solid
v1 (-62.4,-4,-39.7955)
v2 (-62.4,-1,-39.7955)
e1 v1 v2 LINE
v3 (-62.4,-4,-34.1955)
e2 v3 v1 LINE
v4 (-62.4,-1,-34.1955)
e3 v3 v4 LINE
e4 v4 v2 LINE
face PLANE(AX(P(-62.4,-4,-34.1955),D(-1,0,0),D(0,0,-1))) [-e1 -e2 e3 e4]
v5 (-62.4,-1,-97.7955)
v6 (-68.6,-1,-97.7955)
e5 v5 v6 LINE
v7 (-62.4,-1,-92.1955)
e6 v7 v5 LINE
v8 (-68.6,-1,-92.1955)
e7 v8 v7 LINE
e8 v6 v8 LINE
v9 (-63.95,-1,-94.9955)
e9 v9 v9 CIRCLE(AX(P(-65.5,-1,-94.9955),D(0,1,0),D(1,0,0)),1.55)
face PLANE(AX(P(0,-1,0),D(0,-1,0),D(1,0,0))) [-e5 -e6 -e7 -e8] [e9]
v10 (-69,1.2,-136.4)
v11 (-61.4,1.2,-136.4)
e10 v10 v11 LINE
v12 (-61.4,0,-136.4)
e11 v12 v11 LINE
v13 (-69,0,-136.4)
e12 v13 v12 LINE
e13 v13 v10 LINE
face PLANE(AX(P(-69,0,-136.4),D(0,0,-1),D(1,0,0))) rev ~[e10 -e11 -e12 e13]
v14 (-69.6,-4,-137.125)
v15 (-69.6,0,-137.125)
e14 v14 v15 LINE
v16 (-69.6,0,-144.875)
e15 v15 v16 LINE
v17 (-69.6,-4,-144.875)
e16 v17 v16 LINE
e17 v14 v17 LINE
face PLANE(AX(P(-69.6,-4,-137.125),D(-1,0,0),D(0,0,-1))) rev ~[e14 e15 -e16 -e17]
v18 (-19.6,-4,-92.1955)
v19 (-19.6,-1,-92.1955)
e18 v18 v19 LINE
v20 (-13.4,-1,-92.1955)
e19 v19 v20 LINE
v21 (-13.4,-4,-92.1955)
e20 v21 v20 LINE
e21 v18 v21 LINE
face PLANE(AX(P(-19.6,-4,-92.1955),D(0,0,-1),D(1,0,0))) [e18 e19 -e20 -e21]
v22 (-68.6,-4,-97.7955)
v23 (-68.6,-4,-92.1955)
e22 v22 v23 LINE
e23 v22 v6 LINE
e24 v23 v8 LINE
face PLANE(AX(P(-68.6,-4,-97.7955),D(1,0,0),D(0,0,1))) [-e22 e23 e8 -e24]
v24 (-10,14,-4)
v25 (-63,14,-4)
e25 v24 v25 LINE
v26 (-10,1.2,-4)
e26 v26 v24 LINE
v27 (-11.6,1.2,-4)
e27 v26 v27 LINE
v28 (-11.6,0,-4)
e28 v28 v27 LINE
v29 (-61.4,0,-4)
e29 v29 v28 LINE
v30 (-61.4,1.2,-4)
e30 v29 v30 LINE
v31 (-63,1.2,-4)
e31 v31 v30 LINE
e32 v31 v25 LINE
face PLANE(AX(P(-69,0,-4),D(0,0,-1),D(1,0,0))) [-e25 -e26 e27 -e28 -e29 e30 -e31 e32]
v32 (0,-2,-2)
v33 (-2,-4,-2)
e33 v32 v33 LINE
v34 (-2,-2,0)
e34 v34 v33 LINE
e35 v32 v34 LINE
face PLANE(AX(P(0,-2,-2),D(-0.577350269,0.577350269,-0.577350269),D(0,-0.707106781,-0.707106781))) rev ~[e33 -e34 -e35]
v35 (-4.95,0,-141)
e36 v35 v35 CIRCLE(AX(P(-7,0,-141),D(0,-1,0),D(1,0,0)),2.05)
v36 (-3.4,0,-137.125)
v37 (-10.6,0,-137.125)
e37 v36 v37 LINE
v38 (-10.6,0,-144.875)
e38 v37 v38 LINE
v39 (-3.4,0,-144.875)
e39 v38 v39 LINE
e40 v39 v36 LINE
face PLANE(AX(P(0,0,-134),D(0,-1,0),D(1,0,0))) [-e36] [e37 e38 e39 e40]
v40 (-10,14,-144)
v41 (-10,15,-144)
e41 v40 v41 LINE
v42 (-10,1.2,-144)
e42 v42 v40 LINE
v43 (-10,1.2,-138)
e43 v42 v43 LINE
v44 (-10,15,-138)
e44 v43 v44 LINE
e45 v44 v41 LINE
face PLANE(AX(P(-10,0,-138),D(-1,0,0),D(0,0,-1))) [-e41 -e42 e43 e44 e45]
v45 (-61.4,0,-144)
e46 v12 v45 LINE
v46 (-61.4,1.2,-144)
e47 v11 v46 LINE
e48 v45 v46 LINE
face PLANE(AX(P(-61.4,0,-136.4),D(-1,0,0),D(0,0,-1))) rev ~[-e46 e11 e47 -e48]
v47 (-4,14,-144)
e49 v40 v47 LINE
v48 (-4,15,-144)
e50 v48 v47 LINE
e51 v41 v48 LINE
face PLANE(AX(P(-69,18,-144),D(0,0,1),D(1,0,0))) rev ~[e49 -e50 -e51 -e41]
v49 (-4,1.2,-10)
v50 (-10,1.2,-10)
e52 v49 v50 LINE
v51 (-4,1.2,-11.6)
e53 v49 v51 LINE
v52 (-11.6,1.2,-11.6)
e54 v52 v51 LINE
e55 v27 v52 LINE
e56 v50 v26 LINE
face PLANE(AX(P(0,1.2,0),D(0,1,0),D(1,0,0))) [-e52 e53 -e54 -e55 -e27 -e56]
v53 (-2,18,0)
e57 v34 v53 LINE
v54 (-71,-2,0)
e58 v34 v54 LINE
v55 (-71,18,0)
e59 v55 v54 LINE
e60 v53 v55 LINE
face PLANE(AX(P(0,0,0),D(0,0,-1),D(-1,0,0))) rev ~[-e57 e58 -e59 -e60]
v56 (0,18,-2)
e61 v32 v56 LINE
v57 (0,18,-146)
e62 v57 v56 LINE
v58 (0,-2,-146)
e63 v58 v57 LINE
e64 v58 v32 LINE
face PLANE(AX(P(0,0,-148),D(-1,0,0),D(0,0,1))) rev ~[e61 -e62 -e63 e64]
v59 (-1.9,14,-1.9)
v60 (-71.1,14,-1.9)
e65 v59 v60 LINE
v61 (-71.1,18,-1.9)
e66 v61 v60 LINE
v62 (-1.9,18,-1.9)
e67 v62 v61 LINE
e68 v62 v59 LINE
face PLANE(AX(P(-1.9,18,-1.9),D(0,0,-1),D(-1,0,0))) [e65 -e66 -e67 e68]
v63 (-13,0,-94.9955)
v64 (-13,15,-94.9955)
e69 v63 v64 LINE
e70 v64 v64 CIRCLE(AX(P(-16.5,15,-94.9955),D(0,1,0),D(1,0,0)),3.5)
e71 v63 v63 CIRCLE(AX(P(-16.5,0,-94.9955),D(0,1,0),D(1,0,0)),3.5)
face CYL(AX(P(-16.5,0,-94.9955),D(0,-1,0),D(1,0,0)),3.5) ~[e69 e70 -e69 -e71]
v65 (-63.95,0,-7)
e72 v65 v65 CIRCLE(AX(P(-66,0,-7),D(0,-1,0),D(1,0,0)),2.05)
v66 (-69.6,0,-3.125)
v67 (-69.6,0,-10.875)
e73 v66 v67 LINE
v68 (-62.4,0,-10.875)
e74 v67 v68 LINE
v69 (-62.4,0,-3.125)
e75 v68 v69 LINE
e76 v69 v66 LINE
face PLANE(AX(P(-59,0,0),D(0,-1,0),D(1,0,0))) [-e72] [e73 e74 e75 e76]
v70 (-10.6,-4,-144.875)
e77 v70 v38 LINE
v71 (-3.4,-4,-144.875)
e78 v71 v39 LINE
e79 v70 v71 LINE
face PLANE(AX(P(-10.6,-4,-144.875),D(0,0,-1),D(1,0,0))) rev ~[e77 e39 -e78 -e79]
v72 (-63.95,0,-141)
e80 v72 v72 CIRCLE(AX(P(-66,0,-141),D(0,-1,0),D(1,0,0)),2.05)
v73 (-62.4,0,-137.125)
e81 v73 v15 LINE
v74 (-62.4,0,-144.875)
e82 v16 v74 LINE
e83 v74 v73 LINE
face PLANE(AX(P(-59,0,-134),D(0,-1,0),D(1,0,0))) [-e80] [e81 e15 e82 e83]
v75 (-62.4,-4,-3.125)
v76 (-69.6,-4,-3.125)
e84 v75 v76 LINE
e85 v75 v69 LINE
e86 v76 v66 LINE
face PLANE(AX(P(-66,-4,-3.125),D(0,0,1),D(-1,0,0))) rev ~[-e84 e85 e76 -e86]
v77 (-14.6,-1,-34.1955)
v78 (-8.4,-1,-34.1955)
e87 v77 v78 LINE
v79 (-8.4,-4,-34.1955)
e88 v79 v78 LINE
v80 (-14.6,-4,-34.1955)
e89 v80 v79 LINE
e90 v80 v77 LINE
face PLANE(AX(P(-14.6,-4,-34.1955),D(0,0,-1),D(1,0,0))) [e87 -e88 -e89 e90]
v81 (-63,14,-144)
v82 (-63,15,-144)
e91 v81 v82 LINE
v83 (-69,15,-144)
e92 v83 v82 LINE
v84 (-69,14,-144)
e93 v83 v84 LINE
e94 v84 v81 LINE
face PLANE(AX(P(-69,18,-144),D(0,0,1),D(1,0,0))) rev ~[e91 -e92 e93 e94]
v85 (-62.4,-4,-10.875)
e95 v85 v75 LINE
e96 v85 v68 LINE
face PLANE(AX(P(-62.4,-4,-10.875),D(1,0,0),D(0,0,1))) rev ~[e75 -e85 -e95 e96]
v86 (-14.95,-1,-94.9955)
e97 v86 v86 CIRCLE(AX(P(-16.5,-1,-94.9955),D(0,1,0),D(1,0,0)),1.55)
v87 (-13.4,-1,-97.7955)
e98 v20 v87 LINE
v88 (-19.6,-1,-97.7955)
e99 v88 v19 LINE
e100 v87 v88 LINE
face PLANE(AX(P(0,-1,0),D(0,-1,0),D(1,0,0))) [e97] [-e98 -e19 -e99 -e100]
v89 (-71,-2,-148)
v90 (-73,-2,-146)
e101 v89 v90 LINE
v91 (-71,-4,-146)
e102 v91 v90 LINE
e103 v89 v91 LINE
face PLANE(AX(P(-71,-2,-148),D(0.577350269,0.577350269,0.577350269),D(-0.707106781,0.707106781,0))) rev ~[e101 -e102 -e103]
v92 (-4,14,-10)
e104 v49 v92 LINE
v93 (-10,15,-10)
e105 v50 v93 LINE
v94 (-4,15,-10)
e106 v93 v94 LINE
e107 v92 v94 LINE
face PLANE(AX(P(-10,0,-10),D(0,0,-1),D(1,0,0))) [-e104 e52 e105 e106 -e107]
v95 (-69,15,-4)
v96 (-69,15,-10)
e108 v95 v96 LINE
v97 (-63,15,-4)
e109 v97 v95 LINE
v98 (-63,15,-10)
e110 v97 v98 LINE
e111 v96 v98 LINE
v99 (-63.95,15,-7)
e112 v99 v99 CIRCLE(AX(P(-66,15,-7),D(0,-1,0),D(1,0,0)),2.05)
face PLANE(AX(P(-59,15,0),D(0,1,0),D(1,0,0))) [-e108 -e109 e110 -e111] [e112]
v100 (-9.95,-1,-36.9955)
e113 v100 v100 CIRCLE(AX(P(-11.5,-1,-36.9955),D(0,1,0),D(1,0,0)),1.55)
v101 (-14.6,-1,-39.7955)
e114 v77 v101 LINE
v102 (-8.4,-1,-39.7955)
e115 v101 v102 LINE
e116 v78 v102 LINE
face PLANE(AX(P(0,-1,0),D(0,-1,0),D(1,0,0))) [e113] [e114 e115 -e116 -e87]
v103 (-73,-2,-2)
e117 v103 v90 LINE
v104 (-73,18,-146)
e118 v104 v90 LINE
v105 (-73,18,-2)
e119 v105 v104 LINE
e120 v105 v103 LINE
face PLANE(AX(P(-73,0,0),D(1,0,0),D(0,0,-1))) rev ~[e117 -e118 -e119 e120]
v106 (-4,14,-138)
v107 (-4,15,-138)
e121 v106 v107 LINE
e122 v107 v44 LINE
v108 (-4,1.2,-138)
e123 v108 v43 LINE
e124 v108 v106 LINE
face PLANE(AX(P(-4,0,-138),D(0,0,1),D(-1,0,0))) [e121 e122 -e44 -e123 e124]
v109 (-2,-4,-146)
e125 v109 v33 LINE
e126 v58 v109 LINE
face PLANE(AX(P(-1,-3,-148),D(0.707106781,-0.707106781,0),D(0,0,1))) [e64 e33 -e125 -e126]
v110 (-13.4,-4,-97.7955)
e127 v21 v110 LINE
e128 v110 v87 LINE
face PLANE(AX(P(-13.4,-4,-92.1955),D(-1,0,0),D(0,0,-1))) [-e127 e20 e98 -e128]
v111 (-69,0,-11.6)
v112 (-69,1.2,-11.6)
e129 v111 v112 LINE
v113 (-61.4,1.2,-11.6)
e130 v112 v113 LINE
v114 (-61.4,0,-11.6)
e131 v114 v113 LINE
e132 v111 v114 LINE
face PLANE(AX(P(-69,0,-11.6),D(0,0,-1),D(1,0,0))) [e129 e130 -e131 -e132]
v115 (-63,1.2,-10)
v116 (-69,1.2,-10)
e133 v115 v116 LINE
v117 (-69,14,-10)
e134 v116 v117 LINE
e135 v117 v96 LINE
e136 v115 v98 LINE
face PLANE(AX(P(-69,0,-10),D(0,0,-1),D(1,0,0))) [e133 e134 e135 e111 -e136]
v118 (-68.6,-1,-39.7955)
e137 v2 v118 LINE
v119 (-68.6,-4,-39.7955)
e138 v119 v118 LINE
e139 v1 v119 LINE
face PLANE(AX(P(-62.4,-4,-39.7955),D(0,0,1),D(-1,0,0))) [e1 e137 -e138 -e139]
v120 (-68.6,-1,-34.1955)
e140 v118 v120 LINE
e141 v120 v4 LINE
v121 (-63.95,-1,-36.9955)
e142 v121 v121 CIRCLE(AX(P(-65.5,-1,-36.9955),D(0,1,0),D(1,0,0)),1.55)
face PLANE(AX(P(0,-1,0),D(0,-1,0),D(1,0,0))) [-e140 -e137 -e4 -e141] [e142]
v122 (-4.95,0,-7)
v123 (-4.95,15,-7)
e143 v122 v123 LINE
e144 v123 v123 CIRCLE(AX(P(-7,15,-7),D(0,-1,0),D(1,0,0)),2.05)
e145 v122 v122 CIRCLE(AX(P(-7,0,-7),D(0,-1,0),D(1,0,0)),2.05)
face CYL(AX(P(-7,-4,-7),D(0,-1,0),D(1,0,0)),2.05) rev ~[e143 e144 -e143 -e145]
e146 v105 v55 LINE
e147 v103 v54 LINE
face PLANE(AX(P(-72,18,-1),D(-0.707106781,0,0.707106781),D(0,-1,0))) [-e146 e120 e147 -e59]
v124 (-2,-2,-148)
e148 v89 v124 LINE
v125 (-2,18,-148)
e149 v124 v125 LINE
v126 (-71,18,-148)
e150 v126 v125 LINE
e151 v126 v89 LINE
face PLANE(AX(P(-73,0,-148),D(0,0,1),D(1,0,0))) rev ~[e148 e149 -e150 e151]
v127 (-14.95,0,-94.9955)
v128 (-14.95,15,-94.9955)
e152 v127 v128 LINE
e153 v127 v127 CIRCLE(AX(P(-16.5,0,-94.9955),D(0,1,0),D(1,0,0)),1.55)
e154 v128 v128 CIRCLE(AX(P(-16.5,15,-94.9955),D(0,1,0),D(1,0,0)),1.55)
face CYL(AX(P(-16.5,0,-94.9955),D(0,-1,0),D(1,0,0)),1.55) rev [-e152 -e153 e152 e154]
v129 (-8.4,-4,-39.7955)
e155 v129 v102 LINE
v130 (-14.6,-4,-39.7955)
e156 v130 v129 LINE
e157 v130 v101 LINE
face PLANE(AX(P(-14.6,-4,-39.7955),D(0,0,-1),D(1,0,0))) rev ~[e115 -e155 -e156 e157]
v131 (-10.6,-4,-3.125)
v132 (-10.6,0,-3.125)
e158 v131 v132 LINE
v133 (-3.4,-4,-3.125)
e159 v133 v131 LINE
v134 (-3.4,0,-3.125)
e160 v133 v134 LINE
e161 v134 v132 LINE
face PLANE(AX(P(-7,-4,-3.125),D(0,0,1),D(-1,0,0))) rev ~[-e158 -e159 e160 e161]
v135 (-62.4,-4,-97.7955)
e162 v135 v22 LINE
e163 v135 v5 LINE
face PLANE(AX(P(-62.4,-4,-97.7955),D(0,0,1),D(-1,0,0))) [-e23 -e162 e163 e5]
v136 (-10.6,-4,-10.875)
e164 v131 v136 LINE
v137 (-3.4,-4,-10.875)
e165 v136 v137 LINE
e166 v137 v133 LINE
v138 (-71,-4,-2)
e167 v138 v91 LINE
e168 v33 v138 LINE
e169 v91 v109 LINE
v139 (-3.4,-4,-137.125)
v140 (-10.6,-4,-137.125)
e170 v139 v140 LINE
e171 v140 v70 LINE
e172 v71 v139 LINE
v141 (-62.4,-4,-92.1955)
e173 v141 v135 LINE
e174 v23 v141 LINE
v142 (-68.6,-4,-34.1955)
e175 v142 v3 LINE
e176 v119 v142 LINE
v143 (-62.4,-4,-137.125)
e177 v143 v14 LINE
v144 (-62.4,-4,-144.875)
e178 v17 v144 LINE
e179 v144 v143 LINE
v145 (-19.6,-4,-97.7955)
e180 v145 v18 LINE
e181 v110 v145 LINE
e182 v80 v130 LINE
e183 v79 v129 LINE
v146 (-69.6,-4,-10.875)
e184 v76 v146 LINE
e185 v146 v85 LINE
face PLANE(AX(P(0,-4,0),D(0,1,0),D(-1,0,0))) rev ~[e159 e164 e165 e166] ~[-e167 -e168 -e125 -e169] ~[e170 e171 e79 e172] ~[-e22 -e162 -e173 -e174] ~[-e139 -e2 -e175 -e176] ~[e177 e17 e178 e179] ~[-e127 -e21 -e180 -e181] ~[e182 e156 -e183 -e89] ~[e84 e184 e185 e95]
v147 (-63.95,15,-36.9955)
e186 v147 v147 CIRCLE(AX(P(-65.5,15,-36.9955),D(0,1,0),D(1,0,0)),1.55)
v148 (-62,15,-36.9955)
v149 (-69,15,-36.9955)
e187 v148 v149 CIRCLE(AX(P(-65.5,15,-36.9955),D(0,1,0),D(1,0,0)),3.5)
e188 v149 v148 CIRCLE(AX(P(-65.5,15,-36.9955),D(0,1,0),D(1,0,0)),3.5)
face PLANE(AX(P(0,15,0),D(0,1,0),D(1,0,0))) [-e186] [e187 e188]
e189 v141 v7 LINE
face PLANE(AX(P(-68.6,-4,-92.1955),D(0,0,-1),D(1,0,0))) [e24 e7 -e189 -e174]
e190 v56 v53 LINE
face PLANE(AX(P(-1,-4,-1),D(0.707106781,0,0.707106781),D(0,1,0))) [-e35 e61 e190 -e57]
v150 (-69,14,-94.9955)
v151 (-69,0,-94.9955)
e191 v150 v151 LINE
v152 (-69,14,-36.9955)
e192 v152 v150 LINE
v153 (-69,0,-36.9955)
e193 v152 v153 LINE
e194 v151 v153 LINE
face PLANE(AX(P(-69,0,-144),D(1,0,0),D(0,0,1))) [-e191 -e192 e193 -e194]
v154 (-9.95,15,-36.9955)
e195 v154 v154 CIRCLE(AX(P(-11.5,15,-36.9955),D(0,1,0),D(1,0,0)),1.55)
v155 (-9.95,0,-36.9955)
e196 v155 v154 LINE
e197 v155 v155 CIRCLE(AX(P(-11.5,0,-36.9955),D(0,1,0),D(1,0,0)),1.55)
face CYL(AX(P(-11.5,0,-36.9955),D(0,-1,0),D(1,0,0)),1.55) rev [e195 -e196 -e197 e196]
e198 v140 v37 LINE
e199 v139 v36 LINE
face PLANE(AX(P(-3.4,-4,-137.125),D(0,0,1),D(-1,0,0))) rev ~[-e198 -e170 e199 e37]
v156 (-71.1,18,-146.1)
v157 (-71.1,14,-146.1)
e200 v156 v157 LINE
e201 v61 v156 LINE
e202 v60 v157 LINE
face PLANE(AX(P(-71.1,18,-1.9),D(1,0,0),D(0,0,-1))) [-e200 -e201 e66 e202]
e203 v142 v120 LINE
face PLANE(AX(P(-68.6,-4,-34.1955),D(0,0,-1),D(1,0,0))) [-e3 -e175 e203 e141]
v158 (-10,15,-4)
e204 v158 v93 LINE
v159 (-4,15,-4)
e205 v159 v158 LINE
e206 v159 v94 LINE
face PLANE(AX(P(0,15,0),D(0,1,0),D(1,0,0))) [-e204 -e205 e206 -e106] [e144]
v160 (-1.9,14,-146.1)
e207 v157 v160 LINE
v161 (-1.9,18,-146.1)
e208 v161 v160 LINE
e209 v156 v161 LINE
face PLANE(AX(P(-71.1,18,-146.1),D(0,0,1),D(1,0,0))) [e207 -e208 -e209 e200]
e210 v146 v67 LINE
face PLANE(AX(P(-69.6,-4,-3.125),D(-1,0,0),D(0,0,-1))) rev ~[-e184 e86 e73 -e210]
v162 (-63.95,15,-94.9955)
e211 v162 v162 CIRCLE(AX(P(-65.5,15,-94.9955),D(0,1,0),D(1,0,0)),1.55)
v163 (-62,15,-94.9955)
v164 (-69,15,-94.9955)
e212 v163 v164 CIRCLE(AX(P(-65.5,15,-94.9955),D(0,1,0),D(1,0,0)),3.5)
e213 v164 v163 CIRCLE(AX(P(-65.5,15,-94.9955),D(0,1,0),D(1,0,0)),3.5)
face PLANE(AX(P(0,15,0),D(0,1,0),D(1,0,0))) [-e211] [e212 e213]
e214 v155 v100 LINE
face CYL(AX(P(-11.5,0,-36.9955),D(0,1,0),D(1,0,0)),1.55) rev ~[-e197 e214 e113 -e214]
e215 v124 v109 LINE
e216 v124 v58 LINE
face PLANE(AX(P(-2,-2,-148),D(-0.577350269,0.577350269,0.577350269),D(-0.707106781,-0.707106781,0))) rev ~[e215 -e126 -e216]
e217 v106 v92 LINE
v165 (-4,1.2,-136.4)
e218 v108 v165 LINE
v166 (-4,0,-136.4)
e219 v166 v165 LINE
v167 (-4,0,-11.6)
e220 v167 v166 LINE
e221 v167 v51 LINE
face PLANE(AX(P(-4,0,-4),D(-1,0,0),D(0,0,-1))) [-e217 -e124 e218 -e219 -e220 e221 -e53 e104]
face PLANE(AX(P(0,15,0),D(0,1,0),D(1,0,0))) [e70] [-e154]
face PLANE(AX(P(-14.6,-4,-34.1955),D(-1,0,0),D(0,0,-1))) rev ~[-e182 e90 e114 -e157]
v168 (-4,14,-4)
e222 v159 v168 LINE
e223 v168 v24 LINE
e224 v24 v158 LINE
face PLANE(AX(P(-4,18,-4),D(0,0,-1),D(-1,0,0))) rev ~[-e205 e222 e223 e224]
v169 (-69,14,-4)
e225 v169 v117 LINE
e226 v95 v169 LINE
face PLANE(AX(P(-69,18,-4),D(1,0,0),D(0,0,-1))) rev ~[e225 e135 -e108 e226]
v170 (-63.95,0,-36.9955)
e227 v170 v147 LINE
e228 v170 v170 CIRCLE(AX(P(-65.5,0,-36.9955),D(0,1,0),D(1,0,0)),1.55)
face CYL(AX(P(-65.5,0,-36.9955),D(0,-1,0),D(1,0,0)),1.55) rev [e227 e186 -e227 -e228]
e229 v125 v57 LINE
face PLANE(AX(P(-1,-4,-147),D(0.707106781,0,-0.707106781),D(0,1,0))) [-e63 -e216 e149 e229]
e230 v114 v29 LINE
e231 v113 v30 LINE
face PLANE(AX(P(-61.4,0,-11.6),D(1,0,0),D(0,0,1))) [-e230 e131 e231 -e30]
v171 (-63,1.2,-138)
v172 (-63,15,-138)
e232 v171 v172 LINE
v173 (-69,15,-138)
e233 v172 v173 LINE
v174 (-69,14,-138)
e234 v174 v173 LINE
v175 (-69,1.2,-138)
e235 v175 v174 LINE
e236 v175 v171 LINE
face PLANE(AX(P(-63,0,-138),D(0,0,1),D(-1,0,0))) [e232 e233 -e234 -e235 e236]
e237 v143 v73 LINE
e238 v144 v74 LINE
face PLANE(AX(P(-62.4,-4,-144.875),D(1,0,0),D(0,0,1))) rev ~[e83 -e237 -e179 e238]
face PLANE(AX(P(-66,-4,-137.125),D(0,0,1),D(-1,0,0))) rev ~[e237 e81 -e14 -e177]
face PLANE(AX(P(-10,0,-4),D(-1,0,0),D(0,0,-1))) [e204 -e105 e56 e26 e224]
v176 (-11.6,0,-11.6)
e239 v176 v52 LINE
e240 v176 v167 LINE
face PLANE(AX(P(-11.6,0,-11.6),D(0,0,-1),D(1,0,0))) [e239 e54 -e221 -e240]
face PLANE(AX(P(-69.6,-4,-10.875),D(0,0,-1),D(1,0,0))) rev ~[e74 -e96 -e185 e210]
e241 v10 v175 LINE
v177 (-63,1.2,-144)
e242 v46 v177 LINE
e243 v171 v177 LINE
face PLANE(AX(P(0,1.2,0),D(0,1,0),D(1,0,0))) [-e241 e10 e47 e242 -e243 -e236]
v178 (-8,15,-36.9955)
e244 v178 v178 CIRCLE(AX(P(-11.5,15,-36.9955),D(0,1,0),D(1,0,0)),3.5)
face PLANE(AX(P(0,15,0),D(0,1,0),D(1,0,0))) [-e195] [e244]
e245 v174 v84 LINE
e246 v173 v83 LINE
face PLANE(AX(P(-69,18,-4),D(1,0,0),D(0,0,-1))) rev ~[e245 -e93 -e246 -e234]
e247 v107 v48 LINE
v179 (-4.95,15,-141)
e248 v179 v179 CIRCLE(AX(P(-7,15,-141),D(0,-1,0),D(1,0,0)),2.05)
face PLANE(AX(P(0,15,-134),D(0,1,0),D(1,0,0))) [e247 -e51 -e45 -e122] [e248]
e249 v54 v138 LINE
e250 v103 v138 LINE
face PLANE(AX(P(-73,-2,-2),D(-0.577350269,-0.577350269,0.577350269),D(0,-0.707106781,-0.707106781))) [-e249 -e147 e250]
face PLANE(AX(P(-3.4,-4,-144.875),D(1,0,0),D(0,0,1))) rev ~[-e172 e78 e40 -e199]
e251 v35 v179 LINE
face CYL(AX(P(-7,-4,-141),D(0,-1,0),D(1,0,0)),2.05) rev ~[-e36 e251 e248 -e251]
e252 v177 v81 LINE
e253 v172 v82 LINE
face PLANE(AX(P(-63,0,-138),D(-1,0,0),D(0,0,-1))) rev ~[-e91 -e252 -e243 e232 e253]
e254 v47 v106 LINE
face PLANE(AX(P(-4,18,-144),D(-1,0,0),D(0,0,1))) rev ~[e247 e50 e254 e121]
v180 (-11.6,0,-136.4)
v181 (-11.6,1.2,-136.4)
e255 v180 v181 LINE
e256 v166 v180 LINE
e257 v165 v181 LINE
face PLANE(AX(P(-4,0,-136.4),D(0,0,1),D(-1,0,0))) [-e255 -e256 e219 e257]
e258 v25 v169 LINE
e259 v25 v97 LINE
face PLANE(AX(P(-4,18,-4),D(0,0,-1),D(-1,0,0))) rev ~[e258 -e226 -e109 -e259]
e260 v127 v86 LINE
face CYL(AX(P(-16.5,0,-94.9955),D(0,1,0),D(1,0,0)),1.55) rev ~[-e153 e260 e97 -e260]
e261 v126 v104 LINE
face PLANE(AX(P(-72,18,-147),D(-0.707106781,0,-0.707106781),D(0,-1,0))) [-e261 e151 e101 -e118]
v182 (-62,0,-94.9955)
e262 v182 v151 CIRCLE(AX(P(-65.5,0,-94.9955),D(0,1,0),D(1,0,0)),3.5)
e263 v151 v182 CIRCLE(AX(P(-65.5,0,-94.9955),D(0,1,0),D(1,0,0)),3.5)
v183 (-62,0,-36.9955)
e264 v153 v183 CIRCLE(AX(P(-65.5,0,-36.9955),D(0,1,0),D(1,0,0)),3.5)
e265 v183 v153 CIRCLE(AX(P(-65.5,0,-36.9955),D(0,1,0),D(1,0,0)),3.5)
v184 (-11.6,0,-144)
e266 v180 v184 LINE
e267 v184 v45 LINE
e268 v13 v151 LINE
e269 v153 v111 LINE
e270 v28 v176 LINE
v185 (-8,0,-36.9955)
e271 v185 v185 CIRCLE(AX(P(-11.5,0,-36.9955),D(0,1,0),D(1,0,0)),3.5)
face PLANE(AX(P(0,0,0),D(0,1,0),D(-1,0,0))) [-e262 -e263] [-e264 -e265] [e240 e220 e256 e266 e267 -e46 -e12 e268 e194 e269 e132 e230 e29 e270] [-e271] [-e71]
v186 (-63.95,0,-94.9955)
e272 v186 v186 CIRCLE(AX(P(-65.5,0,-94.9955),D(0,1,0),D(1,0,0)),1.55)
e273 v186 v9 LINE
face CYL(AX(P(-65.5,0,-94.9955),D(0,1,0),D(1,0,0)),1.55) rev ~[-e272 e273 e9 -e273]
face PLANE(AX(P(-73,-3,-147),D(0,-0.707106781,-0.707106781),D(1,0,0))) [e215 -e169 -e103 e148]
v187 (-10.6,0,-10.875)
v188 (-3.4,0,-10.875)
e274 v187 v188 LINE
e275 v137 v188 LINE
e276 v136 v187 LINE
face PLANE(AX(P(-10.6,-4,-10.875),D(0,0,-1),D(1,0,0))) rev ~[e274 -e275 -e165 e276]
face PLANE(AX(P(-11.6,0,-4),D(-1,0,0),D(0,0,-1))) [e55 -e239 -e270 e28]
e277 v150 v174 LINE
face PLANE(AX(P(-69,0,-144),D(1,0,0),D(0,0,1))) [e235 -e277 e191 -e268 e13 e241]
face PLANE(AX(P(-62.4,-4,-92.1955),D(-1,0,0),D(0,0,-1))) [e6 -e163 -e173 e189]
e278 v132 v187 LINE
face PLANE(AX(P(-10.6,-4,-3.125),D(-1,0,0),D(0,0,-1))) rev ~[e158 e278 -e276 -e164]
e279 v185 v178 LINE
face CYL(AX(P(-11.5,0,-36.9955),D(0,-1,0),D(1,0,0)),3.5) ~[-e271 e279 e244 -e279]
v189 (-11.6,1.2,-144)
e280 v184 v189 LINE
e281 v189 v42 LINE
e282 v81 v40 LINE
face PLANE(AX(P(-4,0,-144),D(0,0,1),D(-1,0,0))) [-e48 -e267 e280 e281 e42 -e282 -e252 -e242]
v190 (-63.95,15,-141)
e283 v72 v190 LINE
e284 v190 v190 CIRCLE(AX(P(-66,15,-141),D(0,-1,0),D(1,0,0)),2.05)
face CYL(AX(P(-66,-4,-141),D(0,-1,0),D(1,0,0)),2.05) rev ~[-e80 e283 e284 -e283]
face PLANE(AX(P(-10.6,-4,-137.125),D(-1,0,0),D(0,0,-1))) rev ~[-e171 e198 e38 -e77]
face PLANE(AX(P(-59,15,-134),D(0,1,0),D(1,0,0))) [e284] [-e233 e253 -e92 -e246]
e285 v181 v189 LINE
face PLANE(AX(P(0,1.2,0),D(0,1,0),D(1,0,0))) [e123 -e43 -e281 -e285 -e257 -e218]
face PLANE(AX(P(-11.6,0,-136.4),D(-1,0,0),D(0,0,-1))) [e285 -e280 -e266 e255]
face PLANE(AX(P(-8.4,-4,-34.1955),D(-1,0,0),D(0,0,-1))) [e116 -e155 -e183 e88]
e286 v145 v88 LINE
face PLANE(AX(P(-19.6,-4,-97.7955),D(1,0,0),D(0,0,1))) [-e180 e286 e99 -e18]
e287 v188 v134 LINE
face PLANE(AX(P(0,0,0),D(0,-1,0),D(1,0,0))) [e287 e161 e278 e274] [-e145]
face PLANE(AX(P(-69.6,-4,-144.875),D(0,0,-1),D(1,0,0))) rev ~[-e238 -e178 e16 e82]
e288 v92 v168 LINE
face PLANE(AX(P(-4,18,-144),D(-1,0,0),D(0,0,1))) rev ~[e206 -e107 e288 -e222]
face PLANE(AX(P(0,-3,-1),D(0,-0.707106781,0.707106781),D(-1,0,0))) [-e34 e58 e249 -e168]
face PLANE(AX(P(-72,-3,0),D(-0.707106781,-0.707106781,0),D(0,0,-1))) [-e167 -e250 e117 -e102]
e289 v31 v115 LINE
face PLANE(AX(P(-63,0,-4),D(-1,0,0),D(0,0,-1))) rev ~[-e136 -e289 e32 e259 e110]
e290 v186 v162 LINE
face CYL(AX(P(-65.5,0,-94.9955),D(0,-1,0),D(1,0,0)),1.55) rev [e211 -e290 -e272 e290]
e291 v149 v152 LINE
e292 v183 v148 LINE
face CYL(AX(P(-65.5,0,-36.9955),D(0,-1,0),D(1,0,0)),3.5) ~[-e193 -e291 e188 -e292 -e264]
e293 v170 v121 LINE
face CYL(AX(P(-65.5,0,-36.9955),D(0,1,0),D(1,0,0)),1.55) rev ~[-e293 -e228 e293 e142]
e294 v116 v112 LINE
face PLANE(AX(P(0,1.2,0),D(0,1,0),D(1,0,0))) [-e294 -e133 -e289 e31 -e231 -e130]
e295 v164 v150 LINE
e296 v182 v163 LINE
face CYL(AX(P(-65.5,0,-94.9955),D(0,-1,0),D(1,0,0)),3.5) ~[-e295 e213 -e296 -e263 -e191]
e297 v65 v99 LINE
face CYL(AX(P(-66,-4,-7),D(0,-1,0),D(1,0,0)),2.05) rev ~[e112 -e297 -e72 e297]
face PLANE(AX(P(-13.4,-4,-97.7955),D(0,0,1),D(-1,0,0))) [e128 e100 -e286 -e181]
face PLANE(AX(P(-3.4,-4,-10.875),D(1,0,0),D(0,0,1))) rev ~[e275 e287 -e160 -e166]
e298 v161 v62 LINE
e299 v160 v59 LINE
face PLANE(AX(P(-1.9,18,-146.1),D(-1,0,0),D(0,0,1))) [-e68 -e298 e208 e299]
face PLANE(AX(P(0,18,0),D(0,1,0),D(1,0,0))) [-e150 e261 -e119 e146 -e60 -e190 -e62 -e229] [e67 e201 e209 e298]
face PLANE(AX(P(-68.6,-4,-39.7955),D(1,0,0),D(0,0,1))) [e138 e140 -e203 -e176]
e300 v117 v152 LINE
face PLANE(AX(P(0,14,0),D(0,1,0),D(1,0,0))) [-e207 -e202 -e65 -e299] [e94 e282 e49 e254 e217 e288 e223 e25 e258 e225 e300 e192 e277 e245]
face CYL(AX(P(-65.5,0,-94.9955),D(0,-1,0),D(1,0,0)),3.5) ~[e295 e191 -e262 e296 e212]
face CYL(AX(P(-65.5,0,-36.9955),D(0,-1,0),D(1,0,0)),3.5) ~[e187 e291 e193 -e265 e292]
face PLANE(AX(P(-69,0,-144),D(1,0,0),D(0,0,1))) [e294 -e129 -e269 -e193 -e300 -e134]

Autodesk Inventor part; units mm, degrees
ref_plane "YZ Plane" through (0, 0, 0) normal (1, 0, 0) x (0, 1, 0)
ref_plane "XZ Plane" through (0, 0, 0) normal (0, 1, 0) x (-1, 0, 0)
ref_plane "XY Plane" through (0, 0, 0) normal (0, 0, 1) x (1, 0, 0)
sketch "Sketch1" plane through (0, 0, 0) normal (0, 1, 0) x (-1, 0, 0)
  line L0 (0, 0) -> (73, 0)
  line L1 (73, 0) -> (73, -148)
  line L2 (73, -148) -> (0, -148)
  line L3 (0, -148) -> (0, 0)
  dimension "d0" = 73
  dimension "d1" = 148
extrude "Extrusion1" add sketch "Sketch1" against normal blind 4
sketch "Sketch2" plane through (0, 0, 0) normal (0, 1, 0) x (1, 0, 0)
  line L0 (-73, 148) -> (0, 148) projected
  line L1 (0, 148) -> (0, 0) projected
  line L2 (0, 148) -> (0, 0)
  line L3 (0, 0) -> (-73, 0) projected
  line L4 (0, 0) -> (-73, 0)
  line L5 (-73, 0) -> (-73, 148)
  line L6 (0, 148) -> (0, 144) construction
  line L7 (0, 148) -> (0, 0) construction
  line L8 (0, 144) -> (-4, 144) construction
  line L9 (-4, 144) -> (-69, 144)
  line L10 (-69, 144) -> (-69, 4)
  line L11 (-69, 4) -> (-4, 4)
  line L12 (-4, 4) -> (-4, 144)
  dimension "d4" = 4
  dimension "d5" = 4
  dimension "d6" = 90
  dimension "d7" = 65
  dimension "d8" = 140
extrude "Extrusion2" add sketch "Sketch2" along normal blind 18
sketch "Sketch4" plane through (0, 0, 0) normal (0, 1, 0) x (1, 0, 0)
  line L0 (-4, 4) -> (-4, 144) projected
  line L1 (-4, 4) -> (-10, 4)
  line L2 (-10, 4) -> (-10, 10)
  line L3 (-10, 10) -> (-4, 10)
  line L4 (-4, 10) -> (-4, 4)
  point P0 (0, 0)
  dimension "d17" = 6
  dimension "d18" = 6
extrude "Extrusion4" add sketch "Sketch4" along normal blind 15
sketch "Sketch9" plane through (0, -4, 0) normal (0, -1, 0) x (1, 0, 0)
  line L0 (0, 0) -> (0, -148) construction
  line L1 (0, 0) -> (-7, 0) construction
  line L2 (0, 0) -> (-73, 0) construction
  line L3 (-7, 0) -> (-7, -7) construction
  circle A0 centre (-7, -7) radius 2.05
  dimension "d60" = 7
  dimension "d61" = 7
  dimension "d62" = 4.1
extrude "Extrusion10" cut sketch "Sketch9" against normal blind 20
sketch "Sketch10" plane through (0, -4, 0) normal (0, -1, 0) x (1, 0, 0)
  circle A0 centre (-7, -7) radius 2.05 construction
  line L0 (-7, -7) -> (-7, 0) construction
  line L1 (0, 0) -> (-73, 0) construction
  line L2 (-7, -7) -> (-10.6, -7) construction
  line L3 (-7, -7) -> (-3.4, -7) construction
  line L4 (-7, -7) -> (-7, -10.875) construction
  line L5 (-7, -7) -> (-7, -3.125) construction
  line L6 (-7, -3.125) -> (-10.6, -3.125)
  line L7 (-10.6, -3.125) -> (-10.6, -10.875)
  line L8 (-10.6, -10.875) -> (-3.4, -10.875)
  line L9 (-3.4, -10.875) -> (-3.4, -3.125)
  line L10 (-3.4, -3.125) -> (-7, -3.125)
  dimension "d65" = 3.6
  dimension "d66" = 3.6
  dimension "d67" = 3.875
  dimension "d68" = 3.875
  dimension "d69" = 7.75
  dimension "d70" = 7.2
extrude "Extrusion11" cut sketch "Sketch10" against normal blind 4
sketch "Sketch11" plane through (0, 0, 0) normal (0, 1, 0) x (1, 0, 0)
  line L0 (-10, 10) -> (-10, 4) projected
  line L1 (-10, 4) -> (-11.6, 4)
  line L2 (-69, 4) -> (-10, 4) projected
  line L3 (-11.6, 4) -> (-11.6, 11.6)
  line L4 (-11.6, 4) -> (-4, 4) construction
  line L5 (-11.6, 11.6) -> (-4, 11.6)
  line L6 (-4, 10.875) -> (-4, 144) projected
  line L7 (-4, 10) -> (-10, 10)
  line L8 (-10, 4) -> (-10, 10)
  line L9 (-10, 10) -> (-4, 10) projected
  line L10 (-4, 10) -> (-4, 11.6)
  point P0 (0, 0)
  dimension "d73" = 1.6
  dimension "d75" = 90
  dimension "d76" = 1.6
extrude "Extrusion12" add sketch "Sketch11" along normal blind 1.2
pattern_linear "Rectangular Pattern3" count 2 spacing 59 along (-1, 0, 0) count 2 spacing 134 along (0, 0, -1) of "Extrusion4", "Extrusion10", "Extrusion11"
sketch "Sketch12" plane through (0, 0, 0) normal (0, 1, 0) x (1, 0, 0)
  line L0 (-63, 4) -> (-10, 4) projected
  line L1 (-63, 4) -> (-61.4, 4)
  line L2 (-63, 4) -> (-63, 10) projected
  line L3 (-63, 4) -> (-63, 10)
  line L4 (-63, 10) -> (-69, 10)
  line L5 (-69, 10) -> (-69, 11.6)
  line L6 (-69, 11.6) -> (-61.4, 11.6)
  line L7 (-61.4, 11.6) -> (-61.4, 4)
  line L8 (-10, 144) -> (-63, 144) projected
  line L9 (-63, 144) -> (-61.4, 144)
  line L10 (-63, 138) -> (-63, 144) projected
  line L11 (-63, 144) -> (-63, 138)
  line L12 (-69, 138) -> (-63, 138) projected
  line L13 (-63, 138) -> (-69, 138)
  line L14 (-69, 138) -> (-69, 136.4)
  line L15 (-69, 137.125) -> (-69, 10.875) projected
  line L16 (-69, 136.4) -> (-61.4, 136.4)
  line L17 (-61.4, 136.4) -> (-61.4, 144)
  line L18 (-10, 144) -> (-10.6, 144) projected
  line L19 (-10, 144) -> (-11.6, 144)
  line L20 (-10, 144) -> (-8.4, 144) construction
  line L21 (-10, 144) -> (-10, 138) projected
  line L22 (-4, 138) -> (-10, 138) projected
  line L23 (-10, 144) -> (-10, 138)
  line L24 (-10, 138) -> (-4, 138)
  line L25 (-4, 138) -> (-4, 136.4)
  line L26 (-4, 10) -> (-4, 138) projected
  line L27 (-4, 136.4) -> (-11.6, 136.4)
  line L28 (-11.6, 136.4) -> (-11.6, 144)
  point P0 (0, 0)
  dimension "d85" = 1.6
  dimension "d86" = 1.6
  dimension "d87" = 90
  dimension "d88" = 1.6
  dimension "d89" = 1.6
  dimension "d90" = 90
  dimension "d91" = 1.6
  dimension "d92" = 180
  dimension "d93" = 1.6
  dimension "d94" = 90
extrude "Extrusion13" add sketch "Sketch12" along normal blind 1.2
sketch "Sketch13" plane through (0, 0, 0) normal (0, 1, 0) x (1, 0, 0)
  line L0 (-4, 10) -> (-4, 138) construction
  line L1 (-4, 11.4955) -> (-4, 31.4955) construction
  line L2 (-4, 31.4955) -> (-8, 31.4955) construction
  line L3 (-8, 31.4955) -> (-69, 31.4955) construction
  line L4 (-69, 31.4955) -> (-69, 100.4955) construction
  line L5 (-69, 100.4955) -> (-8, 100.4955) construction
  line L6 (-8, 100.4955) -> (-8, 31.4955) construction
  line L7 (-69, 100.4955) -> (-69, 94.9955) construction
  line L8 (-69, 138) -> (-69, 10) construction
  line L9 (-69, 94.9955) -> (-16.5, 94.9955) construction
  circle A0 centre (-16.5, 94.9955) radius 3.5
  line L10 (-69, 94.9955) -> (-65.5, 94.9955) construction
  circle A1 centre (-65.5, 94.9955) radius 3.5
  line L11 (-65.5, 94.9955) -> (-2, 94.9955) construction
  line L12 (-65.5, 94.9955) -> (-65.5, 36.9955) construction
  circle A2 centre (-65.5, 36.9955) radius 3.5
  line L13 (-69, 31.4955) -> (-11.5, 31.4955) construction
  line L14 (-11.5, 31.4955) -> (-11.5, 36.9955) construction
  circle A3 centre (-11.5, 36.9955) radius 3.5
  circle A4 centre (-65.5, 36.9955) radius 1.55
  circle A5 centre (-16.5, 94.9955) radius 1.55
  circle A6 centre (-11.5, 36.9955) radius 1.55
  circle A7 centre (-65.5, 94.9955) radius 1.55
  point P0 (0, 0)
  dimension "d97" = 20
  dimension "d98" = 4
  dimension "d99" = 61
  dimension "d100" = 69
  dimension "d101" = 5.5
  dimension "d102" = 52.5
  dimension "d103" = 90
  dimension "d104" = 7
  dimension "d105" = 3.5
  dimension "d106" = 7
  dimension "d109" = 58
  dimension "d110" = 7
  dimension "d111" = 57.5
  dimension "d112" = 5.5
  dimension "d113" = 7
  dimension "d114" = 3.1
  dimension "d116" = 3.1
  dimension "d117" = 3.1
  dimension "d118" = 3.1
extrude "Extrusion14" add sketch "Sketch13" along normal blind 15
sketch "Sketch14" plane through (-65.5, 0, -36.9955) normal (0, 1, 0) x (1, 0, 0)
  circle A0 centre (49, 58) radius 1.55 projected
  circle A1 centre (49, 58) radius 1.55
  circle A2 centre (0, 58) radius 1.55 projected
  circle A3 centre (0, 58) radius 1.55
  circle A4 centre (0, 0) radius 1.55
  circle A5 centre (54, 0) radius 1.55 projected
  circle A6 centre (54, 0) radius 1.55
  point P0 (65.5, -36.9955)
  dimension "d121" = 3.1
extrude "Extrusion15" cut sketch "Sketch14" against normal blind 100
sketch "Sketch15" plane through (0, -4, 0) normal (0, -1, 0) x (1, 0, 0)
  circle A0 centre (-11.5, -36.9955) radius 1.55 construction
  line L0 (-11.5, -36.9955) -> (-11.5, -34.1955) construction
  line L1 (-11.5, -34.1955) -> (-14.6, -34.1955) construction
  line L2 (-14.6, -34.1955) -> (-14.6, -39.7955)
  line L3 (-14.6, -39.7955) -> (-8.4, -39.7955)
  line L4 (-14.6, -34.1955) -> (-8.4, -34.1955)
  line L5 (-8.4, -34.1955) -> (-8.4, -39.7955)
  circle A1 centre (-65.5, -36.9955) radius 1.55 construction
  line L6 (-65.5, -36.9955) -> (-62.4, -36.9955) construction
  line L7 (-62.4, -36.9955) -> (-62.4, -39.7955) construction
  line L8 (-62.4, -39.7955) -> (-68.6, -39.7955)
  line L9 (-68.6, -39.7955) -> (-68.6, -34.1955)
  line L10 (-68.6, -34.1955) -> (-62.4, -34.1955)
  line L11 (-62.4, -34.1955) -> (-62.4, -39.7955)
  circle A2 centre (-16.5, -94.9955) radius 1.55 construction
  line L12 (-16.5, -94.9955) -> (-16.5, -97.7955) construction
  line L13 (-16.5, -97.7955) -> (-13.4, -97.7955) construction
  line L14 (-13.4, -97.7955) -> (-19.6, -97.7955)
  line L15 (-19.6, -97.7955) -> (-19.6, -92.1955)
  line L16 (-19.6, -92.1955) -> (-13.4, -92.1955)
  line L17 (-13.4, -92.1955) -> (-13.4, -97.7955)
  line L18 (-65.5, -94.9955) -> (-65.5, -97.7955) construction
  line L19 (-65.5, -97.7955) -> (-62.4, -97.7955) construction
  line L20 (-62.4, -97.7955) -> (-68.6, -97.7955)
  line L21 (-68.6, -97.7955) -> (-68.6, -92.1955)
  line L22 (-68.6, -92.1955) -> (-62.4, -92.1955)
  line L23 (-62.4, -92.1955) -> (-62.4, -97.7955)
  point P0 (0, 0)
  dimension "d124" = 2.8
  dimension "d125" = 3.1
  dimension "d126" = 5.6
  dimension "d127" = 6.2
  dimension "d130" = 3.1
  dimension "d131" = 2.8
  dimension "d132" = 6.2
  dimension "d133" = 5.6
  dimension "d134" = 2.8
  dimension "d135" = 3.1
  dimension "d136" = 6.2
  dimension "d137" = 5.6
  dimension "d138" = 2.8
  dimension "d139" = 3.1
  dimension "d140" = 6.2
  dimension "d141" = 5.6
extrude "Extrusion17" cut sketch "Sketch15" against normal blind 3
sketch "Sketch17" plane through (0, 18, 0) normal (0, 1, 0) x (1, 0, 0)
  line L0 (-69, 4) -> (-69, 144) projected
  line L1 (-4, 144) -> (-4, 4) projected
  line L2 (-69, 144) -> (-4, 144)
  line L3 (-4, 144) -> (-4, 4)
  line L4 (-4, 4) -> (-69, 4)
  line L5 (-69, 4) -> (-69, 144)
  line L6 (-4, 4) -> (-5.9, 4) construction
  line L7 (-5.9, 4) -> (-5.9, 2.1828) construction
  line L8 (-5.9, 2.1828) -> (-4, 2.1828) construction
  line L9 (-4, 2.1828) -> (-4, 4) construction
  line L10 (-4, 4) -> (-1.9, 4) construction
  line L11 (-1.9, 4) -> (-1.9, 1.9) construction
  line L12 (-69, 144) -> (-71.1, 144) construction
  line L13 (-71.1, 144) -> (-71.1, 146.1) construction
  line L14 (-71.1, 146.1) -> (-1.9, 146.1)
  line L15 (-1.9, 146.1) -> (-1.9, 1.9)
  line L16 (-1.9, 1.9) -> (-71.1, 1.9)
  line L17 (-71.1, 1.9) -> (-71.1, 146.1)
  point P0 (0, 0)
  dimension "d144" = 1.9
  dimension "d145" = 2.1
  dimension "d146" = 2.1
  dimension "d147" = 2.1
  dimension "d148" = 2.1
extrude "Extrusion18" cut sketch "Sketch17" against normal blind 4
chamfer "Chamfer1" distance 2 angle 45 8 edges at (-36.5, -4, 0) (-73, 7, 0) (-73, -4, -74) (0, 7, 0) (0, -4, -74) (0, 7, -148) (-36.5, -4, -148) (-73, 7, -148)
properties part number "mangOH bottom"
